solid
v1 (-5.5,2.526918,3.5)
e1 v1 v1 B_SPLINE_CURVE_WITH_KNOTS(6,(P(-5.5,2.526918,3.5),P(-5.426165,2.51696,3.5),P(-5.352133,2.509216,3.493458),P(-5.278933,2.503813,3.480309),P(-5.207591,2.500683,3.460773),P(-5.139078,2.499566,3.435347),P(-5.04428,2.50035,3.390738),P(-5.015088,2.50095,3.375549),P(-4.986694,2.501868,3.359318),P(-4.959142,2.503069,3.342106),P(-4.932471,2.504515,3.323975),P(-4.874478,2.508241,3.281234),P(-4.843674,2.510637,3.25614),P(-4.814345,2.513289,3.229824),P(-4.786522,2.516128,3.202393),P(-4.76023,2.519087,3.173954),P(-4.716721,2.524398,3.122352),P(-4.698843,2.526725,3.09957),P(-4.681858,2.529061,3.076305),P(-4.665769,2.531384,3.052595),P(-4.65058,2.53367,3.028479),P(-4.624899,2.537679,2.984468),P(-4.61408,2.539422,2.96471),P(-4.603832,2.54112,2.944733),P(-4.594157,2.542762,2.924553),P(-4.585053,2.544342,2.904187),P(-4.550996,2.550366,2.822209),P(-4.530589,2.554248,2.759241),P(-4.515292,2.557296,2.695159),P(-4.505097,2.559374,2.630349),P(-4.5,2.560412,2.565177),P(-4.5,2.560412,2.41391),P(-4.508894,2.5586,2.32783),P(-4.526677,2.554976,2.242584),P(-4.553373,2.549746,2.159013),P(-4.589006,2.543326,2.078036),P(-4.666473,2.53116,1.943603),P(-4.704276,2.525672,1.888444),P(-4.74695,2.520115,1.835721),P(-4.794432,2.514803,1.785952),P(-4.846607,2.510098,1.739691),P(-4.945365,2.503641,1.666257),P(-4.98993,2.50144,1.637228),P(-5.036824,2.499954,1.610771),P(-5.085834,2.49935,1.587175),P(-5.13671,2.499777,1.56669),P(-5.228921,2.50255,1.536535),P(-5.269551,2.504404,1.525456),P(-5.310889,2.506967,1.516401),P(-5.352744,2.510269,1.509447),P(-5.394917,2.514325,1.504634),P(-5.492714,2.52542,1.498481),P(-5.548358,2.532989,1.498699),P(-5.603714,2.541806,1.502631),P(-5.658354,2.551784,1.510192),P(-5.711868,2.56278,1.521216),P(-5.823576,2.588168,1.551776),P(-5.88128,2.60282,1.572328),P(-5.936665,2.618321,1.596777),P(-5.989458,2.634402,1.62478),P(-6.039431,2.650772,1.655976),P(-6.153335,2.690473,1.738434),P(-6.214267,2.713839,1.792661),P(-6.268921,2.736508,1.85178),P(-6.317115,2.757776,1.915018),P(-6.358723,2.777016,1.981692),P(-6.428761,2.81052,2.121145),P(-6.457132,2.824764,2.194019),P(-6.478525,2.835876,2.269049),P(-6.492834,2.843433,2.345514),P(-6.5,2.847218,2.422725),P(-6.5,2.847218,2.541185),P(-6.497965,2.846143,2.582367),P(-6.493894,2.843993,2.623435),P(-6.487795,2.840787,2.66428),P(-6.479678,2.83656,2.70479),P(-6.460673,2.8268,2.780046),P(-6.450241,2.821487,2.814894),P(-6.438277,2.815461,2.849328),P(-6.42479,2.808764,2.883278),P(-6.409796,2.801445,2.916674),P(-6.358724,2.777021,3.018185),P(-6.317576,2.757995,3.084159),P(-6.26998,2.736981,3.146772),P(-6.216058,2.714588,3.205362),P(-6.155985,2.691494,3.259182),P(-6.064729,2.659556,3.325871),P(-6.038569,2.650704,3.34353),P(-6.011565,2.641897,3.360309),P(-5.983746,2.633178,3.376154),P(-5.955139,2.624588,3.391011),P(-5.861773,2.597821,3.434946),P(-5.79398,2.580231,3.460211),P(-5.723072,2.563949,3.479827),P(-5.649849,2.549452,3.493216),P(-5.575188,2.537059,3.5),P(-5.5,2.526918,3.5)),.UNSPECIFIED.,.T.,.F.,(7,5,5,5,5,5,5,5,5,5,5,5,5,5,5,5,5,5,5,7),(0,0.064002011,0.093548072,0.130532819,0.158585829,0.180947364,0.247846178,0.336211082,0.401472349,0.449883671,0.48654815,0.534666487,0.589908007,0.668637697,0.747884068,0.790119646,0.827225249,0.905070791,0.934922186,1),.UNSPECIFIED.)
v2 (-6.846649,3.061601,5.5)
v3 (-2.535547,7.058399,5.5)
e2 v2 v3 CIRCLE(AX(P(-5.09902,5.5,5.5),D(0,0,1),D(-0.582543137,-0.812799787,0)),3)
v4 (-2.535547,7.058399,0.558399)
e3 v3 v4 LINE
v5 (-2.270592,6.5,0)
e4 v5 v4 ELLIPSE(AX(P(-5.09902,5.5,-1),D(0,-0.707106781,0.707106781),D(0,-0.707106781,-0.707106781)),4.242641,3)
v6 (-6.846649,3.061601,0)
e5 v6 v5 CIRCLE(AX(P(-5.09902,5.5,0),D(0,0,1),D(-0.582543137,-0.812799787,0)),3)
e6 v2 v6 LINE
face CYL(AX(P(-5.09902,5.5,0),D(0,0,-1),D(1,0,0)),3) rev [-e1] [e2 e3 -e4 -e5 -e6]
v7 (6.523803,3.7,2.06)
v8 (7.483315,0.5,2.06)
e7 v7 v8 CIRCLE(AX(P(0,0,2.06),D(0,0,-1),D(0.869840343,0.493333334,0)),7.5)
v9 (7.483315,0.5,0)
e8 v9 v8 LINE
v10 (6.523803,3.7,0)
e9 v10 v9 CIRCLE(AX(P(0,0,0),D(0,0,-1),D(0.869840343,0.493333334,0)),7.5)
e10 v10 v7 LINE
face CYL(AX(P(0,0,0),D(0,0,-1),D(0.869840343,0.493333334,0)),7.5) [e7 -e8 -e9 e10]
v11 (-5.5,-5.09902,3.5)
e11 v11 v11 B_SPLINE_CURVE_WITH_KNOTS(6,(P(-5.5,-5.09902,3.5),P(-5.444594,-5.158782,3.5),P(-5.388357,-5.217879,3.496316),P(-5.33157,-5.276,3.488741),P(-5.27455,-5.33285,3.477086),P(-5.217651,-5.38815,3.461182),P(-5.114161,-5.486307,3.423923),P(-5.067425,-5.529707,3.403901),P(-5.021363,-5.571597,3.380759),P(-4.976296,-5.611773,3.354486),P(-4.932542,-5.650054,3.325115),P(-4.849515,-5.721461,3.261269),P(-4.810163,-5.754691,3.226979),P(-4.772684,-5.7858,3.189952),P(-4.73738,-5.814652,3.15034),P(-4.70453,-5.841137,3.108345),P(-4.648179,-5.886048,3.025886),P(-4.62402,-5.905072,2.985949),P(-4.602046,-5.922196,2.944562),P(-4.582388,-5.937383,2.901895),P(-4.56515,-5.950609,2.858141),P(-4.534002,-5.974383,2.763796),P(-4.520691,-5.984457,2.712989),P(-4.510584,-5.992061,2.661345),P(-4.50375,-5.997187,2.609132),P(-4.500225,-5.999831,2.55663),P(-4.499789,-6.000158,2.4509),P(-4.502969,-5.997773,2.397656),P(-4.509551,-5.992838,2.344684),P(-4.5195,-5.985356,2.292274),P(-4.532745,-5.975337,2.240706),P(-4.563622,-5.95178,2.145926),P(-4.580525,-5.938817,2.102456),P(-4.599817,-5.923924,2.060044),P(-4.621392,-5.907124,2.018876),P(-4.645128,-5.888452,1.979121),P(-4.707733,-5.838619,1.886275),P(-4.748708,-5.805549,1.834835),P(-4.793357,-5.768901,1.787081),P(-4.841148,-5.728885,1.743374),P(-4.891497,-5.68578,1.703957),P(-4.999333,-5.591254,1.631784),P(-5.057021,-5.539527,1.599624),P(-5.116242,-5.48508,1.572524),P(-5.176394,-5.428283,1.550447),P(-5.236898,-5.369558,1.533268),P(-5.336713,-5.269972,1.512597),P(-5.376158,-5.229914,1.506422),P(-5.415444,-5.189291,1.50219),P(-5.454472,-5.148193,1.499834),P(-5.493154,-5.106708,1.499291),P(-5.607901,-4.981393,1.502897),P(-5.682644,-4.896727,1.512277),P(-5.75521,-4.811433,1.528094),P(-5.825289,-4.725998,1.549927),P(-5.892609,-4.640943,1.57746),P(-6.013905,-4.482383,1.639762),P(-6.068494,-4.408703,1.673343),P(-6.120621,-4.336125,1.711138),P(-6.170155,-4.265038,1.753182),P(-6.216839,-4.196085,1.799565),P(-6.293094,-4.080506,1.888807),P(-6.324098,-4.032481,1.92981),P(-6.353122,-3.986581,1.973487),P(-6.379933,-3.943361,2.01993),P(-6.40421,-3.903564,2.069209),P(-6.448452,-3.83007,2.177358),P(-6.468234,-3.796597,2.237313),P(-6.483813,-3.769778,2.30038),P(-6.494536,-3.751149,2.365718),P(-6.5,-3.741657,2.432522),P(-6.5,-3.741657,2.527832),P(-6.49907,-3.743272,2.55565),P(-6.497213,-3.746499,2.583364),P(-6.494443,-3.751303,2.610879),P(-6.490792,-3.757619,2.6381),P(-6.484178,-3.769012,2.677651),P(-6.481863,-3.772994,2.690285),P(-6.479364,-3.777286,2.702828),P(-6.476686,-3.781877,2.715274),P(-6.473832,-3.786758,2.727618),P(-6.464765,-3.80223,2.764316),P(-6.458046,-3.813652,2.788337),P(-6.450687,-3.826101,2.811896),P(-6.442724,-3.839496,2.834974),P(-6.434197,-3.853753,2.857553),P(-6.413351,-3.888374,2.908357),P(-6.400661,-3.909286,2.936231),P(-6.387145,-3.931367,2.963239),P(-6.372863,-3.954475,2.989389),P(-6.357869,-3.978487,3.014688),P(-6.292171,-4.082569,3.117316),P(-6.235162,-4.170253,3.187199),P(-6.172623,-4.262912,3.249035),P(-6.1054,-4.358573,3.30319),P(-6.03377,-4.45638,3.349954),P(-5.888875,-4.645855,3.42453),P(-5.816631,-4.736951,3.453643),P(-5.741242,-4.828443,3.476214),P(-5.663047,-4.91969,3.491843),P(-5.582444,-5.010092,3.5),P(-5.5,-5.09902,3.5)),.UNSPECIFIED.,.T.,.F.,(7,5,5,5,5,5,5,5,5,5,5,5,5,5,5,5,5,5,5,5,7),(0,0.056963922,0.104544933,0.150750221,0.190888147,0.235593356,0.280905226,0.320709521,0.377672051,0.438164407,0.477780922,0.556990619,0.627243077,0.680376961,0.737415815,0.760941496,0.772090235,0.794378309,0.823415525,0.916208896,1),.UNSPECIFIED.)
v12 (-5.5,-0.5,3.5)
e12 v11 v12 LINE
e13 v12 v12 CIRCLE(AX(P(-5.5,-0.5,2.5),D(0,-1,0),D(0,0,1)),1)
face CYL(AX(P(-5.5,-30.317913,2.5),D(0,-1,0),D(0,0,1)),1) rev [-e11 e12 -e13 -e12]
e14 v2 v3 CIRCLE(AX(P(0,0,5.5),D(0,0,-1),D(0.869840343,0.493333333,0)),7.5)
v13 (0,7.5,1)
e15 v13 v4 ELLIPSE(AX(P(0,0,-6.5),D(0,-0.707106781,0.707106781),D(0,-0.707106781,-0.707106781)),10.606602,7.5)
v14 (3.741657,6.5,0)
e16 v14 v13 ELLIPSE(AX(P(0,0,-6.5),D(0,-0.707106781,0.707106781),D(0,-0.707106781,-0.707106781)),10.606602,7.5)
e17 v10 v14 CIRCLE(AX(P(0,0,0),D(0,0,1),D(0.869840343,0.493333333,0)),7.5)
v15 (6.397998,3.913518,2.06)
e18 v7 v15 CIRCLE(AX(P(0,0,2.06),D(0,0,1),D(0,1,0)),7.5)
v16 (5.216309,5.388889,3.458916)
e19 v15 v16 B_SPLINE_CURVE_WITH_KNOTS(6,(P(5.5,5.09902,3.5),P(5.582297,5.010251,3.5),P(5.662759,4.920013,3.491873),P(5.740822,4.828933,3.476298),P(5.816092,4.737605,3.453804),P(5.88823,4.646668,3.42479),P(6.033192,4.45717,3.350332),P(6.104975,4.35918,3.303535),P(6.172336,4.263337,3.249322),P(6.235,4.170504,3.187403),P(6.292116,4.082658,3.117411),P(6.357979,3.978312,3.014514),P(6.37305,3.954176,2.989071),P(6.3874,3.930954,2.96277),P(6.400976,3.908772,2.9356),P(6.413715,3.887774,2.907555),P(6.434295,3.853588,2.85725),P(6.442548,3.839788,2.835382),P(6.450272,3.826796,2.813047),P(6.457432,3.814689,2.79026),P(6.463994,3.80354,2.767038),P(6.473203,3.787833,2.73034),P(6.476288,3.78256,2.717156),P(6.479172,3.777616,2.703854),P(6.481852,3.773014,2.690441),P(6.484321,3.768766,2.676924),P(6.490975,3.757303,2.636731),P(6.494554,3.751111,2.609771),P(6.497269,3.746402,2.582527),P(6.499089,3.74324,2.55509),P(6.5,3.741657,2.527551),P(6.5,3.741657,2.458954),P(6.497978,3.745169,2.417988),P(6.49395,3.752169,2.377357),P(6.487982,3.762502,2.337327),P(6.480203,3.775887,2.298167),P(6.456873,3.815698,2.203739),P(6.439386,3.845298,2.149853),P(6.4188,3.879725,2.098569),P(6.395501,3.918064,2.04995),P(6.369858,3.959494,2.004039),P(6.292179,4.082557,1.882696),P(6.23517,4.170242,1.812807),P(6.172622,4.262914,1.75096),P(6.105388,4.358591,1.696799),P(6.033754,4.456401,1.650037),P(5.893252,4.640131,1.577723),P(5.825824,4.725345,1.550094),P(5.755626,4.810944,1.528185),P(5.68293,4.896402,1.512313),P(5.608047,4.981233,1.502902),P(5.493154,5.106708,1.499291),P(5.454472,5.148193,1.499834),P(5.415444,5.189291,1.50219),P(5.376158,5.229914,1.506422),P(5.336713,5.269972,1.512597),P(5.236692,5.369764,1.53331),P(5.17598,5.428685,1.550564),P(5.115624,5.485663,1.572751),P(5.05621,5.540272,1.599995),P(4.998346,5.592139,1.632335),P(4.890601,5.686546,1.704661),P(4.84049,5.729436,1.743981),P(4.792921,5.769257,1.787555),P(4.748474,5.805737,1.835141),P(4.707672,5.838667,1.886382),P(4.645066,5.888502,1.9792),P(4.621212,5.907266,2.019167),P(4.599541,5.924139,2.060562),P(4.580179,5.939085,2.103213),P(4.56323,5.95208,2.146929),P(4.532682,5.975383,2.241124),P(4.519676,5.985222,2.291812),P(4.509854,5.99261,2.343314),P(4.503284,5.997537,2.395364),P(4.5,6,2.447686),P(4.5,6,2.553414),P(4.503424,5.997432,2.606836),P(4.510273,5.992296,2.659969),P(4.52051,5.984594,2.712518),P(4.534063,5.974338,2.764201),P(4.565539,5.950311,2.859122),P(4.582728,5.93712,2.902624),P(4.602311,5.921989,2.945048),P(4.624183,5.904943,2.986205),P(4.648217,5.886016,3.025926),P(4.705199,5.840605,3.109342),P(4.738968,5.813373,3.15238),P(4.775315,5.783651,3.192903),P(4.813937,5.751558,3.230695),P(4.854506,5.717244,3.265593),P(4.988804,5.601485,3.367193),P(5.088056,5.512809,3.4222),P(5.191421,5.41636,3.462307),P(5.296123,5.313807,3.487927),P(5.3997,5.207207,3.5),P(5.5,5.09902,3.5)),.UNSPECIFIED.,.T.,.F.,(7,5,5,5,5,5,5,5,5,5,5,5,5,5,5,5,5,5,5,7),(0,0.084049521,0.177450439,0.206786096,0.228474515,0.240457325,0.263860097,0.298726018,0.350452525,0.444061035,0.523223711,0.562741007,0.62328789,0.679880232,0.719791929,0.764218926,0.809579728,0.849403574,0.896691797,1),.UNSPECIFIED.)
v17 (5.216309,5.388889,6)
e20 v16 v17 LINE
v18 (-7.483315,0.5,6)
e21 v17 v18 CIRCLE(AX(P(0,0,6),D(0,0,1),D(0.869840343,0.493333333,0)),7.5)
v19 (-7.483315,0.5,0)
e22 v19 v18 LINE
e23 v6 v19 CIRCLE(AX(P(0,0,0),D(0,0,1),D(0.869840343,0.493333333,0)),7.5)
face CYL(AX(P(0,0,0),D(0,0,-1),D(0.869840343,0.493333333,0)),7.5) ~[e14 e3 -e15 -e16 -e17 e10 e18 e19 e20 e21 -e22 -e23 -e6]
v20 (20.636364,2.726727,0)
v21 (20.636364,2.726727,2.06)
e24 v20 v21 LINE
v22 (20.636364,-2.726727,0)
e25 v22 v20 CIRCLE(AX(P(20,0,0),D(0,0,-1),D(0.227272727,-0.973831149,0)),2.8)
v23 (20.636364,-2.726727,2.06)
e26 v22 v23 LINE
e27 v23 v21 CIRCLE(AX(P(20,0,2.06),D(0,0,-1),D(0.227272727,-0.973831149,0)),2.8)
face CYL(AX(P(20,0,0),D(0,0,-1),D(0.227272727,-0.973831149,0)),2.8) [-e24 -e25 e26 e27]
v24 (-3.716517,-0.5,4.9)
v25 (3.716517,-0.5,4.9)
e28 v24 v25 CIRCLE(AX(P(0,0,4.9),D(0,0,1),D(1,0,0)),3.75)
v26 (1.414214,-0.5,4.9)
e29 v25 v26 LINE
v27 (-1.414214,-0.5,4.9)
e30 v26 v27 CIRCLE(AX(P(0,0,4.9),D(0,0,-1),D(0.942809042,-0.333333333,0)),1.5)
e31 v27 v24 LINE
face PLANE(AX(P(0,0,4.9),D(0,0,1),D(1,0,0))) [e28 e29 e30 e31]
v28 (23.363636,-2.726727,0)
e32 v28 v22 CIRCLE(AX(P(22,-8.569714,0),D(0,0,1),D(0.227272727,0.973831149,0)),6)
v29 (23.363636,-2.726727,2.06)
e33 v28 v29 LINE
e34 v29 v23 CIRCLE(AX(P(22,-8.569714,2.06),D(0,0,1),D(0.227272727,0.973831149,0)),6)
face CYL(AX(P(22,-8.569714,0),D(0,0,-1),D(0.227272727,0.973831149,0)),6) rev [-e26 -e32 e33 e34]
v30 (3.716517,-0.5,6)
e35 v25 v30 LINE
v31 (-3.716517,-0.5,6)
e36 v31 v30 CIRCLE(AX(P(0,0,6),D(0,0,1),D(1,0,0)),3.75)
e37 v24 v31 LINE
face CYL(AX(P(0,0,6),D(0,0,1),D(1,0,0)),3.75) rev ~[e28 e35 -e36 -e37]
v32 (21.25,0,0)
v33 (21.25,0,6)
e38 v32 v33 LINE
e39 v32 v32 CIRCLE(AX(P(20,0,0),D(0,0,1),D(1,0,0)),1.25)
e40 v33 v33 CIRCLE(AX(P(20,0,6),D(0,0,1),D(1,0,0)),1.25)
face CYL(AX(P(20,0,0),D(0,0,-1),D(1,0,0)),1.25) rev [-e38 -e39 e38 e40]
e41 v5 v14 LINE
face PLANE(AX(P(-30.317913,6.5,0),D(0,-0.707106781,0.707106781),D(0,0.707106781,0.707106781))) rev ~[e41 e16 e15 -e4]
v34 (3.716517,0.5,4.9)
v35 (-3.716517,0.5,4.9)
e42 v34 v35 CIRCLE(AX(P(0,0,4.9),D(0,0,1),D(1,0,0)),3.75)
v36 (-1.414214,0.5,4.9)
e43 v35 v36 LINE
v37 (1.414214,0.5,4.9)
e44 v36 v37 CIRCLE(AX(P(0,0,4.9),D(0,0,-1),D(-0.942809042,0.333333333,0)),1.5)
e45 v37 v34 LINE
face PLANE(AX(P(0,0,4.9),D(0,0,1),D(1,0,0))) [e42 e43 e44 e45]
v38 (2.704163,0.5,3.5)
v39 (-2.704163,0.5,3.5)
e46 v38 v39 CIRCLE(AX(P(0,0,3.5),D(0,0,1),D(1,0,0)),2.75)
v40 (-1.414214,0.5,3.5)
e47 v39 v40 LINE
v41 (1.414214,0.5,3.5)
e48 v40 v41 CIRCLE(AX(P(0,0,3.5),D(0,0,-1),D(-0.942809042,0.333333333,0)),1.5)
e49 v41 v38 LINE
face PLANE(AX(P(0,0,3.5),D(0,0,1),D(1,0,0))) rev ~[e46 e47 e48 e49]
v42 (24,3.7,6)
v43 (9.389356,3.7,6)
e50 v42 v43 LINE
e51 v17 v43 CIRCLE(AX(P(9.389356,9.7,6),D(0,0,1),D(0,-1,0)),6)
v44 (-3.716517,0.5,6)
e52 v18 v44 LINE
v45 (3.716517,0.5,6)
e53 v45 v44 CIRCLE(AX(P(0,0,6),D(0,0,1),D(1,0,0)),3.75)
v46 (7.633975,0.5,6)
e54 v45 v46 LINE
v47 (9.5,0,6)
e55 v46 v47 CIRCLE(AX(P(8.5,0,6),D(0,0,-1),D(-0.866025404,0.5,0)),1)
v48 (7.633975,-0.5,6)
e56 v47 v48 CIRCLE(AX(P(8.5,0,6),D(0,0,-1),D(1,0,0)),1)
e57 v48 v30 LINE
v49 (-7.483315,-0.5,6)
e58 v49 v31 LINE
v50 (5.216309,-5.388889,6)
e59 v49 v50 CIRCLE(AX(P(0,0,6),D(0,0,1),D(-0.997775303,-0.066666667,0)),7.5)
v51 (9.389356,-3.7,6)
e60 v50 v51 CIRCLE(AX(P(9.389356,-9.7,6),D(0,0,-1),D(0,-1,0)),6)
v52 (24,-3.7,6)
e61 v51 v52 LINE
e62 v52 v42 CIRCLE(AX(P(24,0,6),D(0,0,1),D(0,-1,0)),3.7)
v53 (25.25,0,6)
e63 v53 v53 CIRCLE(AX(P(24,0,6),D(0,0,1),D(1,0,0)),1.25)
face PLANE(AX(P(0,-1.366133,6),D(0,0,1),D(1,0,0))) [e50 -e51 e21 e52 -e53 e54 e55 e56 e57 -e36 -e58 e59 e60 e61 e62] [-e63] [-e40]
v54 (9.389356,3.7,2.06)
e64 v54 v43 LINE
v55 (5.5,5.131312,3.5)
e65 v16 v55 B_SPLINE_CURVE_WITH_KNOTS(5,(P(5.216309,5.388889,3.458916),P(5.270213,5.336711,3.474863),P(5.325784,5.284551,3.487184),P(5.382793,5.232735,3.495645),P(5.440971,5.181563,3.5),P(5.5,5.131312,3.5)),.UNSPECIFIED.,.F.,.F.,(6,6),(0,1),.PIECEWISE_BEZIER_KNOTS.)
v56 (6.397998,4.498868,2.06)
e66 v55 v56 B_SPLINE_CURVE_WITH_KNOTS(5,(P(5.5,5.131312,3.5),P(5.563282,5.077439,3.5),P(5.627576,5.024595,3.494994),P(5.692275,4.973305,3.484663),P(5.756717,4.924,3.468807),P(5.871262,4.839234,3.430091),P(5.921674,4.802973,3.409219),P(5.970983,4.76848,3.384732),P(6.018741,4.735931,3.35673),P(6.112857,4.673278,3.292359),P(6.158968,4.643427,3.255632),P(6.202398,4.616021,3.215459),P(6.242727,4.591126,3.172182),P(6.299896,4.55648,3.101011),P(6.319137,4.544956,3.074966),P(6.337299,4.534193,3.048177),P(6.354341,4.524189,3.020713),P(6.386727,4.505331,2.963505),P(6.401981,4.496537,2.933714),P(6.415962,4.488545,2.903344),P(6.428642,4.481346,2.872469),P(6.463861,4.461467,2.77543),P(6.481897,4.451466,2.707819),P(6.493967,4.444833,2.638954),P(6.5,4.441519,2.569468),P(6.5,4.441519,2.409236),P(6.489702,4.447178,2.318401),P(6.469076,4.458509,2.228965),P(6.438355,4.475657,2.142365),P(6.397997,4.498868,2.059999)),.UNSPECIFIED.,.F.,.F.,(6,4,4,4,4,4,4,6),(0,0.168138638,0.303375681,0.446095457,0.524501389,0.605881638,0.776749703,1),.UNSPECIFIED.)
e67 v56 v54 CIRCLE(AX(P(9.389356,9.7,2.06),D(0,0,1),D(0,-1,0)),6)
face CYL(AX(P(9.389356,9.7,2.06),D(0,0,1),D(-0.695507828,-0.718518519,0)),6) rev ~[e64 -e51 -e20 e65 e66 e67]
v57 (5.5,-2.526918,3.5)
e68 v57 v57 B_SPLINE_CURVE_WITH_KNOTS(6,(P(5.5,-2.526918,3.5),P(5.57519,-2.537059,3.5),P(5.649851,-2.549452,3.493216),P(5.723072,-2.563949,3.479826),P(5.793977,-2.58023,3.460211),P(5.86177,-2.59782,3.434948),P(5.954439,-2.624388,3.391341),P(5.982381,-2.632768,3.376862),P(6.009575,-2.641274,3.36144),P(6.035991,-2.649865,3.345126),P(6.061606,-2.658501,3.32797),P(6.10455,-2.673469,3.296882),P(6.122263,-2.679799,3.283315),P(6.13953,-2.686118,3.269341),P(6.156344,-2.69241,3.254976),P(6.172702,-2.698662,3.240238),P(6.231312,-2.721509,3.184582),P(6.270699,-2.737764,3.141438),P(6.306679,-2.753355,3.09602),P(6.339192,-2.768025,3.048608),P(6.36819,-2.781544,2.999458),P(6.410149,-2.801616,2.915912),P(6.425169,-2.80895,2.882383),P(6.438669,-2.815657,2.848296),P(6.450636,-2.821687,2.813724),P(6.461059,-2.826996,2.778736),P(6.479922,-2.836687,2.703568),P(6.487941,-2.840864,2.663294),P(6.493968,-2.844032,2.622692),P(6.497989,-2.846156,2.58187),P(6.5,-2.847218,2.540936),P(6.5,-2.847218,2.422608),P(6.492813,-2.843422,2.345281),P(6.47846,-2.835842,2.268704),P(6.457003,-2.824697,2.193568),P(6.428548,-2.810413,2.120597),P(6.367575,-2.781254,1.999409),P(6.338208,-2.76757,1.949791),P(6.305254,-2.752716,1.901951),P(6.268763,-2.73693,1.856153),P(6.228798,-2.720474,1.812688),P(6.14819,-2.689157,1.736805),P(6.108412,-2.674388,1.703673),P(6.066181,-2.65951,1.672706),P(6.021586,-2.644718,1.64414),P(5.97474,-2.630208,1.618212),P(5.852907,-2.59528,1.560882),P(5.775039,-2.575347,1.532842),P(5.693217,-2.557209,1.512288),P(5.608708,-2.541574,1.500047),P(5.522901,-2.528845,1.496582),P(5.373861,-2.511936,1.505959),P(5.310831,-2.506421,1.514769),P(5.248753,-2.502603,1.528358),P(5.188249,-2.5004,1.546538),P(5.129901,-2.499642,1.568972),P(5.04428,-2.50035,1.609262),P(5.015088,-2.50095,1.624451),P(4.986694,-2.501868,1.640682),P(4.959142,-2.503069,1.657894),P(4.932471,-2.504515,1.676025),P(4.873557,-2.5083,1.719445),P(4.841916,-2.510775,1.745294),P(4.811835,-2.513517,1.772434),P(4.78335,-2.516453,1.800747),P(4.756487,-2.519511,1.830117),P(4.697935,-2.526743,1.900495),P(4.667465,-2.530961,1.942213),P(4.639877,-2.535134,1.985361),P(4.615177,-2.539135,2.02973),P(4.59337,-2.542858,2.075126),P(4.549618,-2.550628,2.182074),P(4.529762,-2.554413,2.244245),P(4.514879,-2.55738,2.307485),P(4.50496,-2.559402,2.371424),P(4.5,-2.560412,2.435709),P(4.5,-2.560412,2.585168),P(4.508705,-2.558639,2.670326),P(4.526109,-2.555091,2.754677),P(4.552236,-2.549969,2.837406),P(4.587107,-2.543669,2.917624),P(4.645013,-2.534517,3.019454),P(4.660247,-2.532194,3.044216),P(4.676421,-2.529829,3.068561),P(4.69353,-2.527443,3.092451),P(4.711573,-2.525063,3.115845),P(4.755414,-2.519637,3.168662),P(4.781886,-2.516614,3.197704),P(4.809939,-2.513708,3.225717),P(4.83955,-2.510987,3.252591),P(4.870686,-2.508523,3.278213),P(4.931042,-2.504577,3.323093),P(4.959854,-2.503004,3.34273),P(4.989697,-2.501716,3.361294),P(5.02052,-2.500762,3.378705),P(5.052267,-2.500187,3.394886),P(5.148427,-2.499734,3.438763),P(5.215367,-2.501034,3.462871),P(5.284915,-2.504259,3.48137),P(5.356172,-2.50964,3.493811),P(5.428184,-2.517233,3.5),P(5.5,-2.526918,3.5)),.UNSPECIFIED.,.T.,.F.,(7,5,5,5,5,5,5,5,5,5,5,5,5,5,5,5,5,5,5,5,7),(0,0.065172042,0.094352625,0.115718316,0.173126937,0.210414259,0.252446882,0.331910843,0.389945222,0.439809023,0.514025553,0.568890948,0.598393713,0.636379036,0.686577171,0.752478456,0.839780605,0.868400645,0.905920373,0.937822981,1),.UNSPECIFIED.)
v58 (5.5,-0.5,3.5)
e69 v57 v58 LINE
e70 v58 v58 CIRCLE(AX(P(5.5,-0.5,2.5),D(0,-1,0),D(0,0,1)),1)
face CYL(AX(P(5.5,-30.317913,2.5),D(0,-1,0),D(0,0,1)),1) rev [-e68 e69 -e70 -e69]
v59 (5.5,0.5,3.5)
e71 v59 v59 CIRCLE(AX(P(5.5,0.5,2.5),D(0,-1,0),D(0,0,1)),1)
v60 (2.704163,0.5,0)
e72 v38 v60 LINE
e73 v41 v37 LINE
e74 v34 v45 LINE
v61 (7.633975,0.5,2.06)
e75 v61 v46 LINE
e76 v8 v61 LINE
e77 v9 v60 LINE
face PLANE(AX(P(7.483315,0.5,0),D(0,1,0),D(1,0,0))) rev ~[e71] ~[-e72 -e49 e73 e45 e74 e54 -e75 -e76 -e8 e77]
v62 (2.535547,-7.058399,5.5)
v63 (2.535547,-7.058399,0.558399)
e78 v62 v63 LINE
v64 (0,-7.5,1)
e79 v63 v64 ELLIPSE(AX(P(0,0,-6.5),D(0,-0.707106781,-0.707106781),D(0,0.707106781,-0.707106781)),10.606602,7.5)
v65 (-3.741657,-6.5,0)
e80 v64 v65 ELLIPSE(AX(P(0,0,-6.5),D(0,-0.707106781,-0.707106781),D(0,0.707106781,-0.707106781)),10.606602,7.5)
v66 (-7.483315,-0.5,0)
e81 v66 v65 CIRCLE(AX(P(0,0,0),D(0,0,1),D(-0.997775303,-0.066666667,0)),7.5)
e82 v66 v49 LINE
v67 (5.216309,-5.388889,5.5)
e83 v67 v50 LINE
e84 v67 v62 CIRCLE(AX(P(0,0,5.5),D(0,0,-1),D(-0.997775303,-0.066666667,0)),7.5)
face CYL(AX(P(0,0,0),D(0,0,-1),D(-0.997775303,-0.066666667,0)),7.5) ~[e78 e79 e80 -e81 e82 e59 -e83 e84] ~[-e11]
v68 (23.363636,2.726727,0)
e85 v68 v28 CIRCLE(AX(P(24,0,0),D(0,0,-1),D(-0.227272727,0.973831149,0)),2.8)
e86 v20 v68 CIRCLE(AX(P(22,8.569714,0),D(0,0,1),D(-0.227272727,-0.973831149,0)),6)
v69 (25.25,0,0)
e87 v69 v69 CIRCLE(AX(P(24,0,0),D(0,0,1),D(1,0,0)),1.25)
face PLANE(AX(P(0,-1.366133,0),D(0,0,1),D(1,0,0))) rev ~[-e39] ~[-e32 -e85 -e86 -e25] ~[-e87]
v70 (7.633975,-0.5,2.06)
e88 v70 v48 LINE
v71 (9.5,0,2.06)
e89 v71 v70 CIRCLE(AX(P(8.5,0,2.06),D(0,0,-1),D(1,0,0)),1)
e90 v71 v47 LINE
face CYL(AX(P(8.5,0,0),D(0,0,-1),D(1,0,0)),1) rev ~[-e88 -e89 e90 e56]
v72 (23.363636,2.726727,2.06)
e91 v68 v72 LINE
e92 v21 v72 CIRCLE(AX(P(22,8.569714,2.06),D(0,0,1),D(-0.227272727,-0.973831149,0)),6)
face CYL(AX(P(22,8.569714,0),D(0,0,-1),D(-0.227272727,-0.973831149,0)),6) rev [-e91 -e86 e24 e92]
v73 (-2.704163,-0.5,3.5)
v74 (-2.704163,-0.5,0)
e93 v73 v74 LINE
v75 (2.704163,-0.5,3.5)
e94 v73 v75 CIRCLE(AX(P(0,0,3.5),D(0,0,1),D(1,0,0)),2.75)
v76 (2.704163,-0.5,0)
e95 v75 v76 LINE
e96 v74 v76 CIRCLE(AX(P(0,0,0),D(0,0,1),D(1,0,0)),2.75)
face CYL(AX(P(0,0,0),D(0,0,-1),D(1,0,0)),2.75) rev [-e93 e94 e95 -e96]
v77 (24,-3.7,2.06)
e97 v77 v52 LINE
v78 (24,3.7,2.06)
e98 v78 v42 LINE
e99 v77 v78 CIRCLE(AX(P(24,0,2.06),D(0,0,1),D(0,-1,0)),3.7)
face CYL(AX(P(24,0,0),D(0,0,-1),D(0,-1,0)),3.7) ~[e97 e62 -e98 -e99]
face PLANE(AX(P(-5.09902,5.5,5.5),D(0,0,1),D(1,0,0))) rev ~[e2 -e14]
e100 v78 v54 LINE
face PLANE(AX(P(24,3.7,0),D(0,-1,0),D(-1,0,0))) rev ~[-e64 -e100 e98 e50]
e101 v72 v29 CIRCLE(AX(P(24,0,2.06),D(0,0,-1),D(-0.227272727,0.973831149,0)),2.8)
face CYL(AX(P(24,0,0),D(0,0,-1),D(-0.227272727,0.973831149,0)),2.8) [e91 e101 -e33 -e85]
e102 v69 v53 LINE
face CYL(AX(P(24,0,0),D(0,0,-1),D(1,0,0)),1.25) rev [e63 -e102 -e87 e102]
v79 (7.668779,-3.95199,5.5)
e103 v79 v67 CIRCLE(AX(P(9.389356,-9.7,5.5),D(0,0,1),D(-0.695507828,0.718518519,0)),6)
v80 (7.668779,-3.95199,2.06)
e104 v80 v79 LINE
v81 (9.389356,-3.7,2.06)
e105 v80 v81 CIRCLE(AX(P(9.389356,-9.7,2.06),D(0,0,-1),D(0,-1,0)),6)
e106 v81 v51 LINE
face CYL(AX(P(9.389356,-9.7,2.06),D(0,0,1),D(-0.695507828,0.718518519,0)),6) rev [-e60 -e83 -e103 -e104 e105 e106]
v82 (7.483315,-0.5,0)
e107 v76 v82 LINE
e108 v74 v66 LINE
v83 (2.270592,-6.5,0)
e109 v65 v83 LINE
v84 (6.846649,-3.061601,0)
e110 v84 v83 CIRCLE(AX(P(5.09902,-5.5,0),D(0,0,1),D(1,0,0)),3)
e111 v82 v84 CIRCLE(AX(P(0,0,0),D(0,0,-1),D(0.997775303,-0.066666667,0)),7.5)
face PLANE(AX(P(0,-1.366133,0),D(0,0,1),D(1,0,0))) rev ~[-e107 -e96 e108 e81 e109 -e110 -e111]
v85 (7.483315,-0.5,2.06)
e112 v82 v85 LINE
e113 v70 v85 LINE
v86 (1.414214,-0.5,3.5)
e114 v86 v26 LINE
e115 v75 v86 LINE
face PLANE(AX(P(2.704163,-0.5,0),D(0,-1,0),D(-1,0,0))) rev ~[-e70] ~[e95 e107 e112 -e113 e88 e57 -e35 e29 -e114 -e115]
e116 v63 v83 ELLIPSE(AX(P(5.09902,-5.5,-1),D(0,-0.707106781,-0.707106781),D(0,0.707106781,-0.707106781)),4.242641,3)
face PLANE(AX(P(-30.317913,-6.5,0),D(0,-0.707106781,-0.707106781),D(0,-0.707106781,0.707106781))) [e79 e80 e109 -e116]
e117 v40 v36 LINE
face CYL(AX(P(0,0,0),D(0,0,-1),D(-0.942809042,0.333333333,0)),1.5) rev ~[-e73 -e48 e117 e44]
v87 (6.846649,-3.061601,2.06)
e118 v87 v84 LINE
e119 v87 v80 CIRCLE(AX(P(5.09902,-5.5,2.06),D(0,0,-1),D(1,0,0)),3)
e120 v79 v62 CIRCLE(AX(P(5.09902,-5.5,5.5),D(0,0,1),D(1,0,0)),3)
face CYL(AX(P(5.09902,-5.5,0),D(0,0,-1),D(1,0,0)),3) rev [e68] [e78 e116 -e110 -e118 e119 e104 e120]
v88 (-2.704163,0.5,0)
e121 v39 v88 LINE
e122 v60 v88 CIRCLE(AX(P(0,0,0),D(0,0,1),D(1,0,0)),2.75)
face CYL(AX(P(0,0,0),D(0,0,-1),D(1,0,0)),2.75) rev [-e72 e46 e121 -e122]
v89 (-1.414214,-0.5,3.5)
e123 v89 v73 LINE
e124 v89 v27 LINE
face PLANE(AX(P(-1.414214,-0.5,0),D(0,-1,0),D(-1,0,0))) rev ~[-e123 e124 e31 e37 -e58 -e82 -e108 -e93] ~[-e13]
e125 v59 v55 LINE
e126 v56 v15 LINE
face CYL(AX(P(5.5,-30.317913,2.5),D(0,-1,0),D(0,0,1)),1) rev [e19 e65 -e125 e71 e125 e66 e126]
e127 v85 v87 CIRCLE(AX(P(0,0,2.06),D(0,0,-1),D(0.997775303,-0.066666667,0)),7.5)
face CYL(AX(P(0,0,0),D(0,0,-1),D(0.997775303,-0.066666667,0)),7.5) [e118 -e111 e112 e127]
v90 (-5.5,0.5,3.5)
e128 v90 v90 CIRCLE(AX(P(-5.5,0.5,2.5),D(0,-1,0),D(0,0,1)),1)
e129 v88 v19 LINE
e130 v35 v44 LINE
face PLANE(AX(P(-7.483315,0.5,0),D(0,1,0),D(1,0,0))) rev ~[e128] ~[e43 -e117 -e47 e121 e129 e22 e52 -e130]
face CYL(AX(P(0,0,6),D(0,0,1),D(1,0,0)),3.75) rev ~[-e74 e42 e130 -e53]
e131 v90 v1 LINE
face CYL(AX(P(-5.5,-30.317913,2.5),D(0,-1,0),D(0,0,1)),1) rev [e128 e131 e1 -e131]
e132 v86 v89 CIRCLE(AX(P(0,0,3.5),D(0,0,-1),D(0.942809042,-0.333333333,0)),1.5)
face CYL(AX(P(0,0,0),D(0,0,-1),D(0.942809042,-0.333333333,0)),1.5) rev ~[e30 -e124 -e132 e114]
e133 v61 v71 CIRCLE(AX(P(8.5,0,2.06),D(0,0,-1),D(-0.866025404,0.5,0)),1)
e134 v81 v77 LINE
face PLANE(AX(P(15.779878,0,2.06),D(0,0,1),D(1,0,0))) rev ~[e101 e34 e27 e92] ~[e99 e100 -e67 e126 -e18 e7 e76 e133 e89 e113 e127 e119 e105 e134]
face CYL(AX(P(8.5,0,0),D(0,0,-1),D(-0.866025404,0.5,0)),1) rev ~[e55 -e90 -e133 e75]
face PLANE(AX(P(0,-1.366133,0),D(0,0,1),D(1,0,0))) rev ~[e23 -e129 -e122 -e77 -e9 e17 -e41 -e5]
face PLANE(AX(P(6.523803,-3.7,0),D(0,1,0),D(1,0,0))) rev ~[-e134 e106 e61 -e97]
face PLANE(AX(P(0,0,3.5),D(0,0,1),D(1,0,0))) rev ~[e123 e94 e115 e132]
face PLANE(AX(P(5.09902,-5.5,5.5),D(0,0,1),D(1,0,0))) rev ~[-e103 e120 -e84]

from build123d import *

# Parameters (mm, degrees)
SKETCH_1_R               = 1.25
EXTRUDE_1_DEPTH          = 6
CUT_EXTRUDE_1_DEPTH      = 2.06
SKETCH_1_4_R             = 2.75
CUT_EXTRUDE_2_DEPTH      = 3.5
CUT_EXTRUDE_START        = 6
SKETCH_1_5_R             = 3.75
CUT_EXTRUDE_3_DEPTH      = 1.1
FILLET_1_R               = 6
SKETCH_2_R               = 3
CUT_EXTRUDE_4_DEPTH      = 5.5
CUT_EXTRUDE_5_DEPTH      = 30.317912613
CUT_EXTRUDE_5_DEPTH_BACK = 30.317912613
SKETCH_3_R               = 1
CUT_EXTRUDE_6_DEPTH      = 30.317912659
CUT_EXTRUDE_6_DEPTH_BACK = 30.317912659


with BuildPart() as part:
    # Эскиз1 → Бобышка-Вытянуть1 (new body)
    # profile 1 of 8: a face of its own
    with BuildSketch(Plane.XY):
        with BuildLine():
            ThreePointArc((24, -3.7), (27.7, 0), (24, 3.7))
            Line((24, 3.7), (6.523802572, 3.7))
            ThreePointArc((6.523802572, 3.7), (7.183998475, 2.154104435), (7.483314774, 0.5))
            Line((7.483314774, 0.5), (7.633974596, 0.5))
            ThreePointArc((7.633974596, 0.5), (8.758819045, 0.965925826), (9.5, 0))
            ThreePointArc((9.5, 0), (8.758819045, -0.965925826), (7.633974596, -0.5))
            Line((7.633974596, -0.5), (7.483314774, -0.5))
            ThreePointArc((7.483314774, -0.5), (7.183998475, -2.154104435), (6.523802572, -3.7))
            Line((6.523802572, -3.7), (24, -3.7))
        make_face()
        with BuildLine():
            ThreePointArc((23.363636364, 2.726727218), (26.8, 0), (23.363636364, -2.726727218))
            ThreePointArc((23.363636364, -2.726727218), (22, -2.569714114), (20.636363636, -2.726727218))
            ThreePointArc((20.636363636, -2.726727218), (17.2, 0), (20.636363636, 2.726727218))
            ThreePointArc((20.636363636, 2.726727218), (22, 2.569714114), (23.363636364, 2.726727218))
        make_face(mode=Mode.SUBTRACT)
    # profile 2 of 8: a face of its own
    with BuildSketch(Plane.XY):
        with BuildLine():
            ThreePointArc((20.636363636, 2.726727218), (22, 2.569714114), (23.363636364, 2.726727218))
            ThreePointArc((23.363636364, 2.726727218), (26.8, 0), (23.363636364, -2.726727218))
            ThreePointArc((23.363636364, -2.726727218), (22, -2.569714114), (20.636363636, -2.726727218))
            ThreePointArc((20.636363636, -2.726727218), (17.2, 0), (20.636363636, 2.726727218))
        make_face()
        with Locations((20, 0)):
            Circle(SKETCH_1_R, mode=Mode.SUBTRACT)
        with Locations((24, 0)):
            Circle(SKETCH_1_R, mode=Mode.SUBTRACT)
    # profile 3 of 8: a face of its own
    with BuildSketch(Plane.XY):
        with BuildLine():
            ThreePointArc((7.483314774, 0.5), (7.183998475, 2.154104435), (6.523802572, 3.7))
            ThreePointArc((6.523802572, 3.7), (-1.670378974, 7.311623218), (-7.483314774, 0.5))
            Line((-7.483314774, 0.5), (-3.716517187, 0.5))
            ThreePointArc((-3.716517187, 0.5), (0, 3.75), (3.716517187, 0.5))
            Line((3.716517187, 0.5), (7.483314774, 0.5))
        make_face()
    # profile 4 of 8: a face of its own
    with BuildSketch(Plane.XY):
        with BuildLine():
            ThreePointArc((3.716517187, 0.5), (0, 3.75), (-3.716517187, 0.5))
            Line((-3.716517187, 0.5), (-2.704163457, 0.5))
            ThreePointArc((-2.704163457, 0.5), (0, 2.75), (2.704163457, 0.5))
            Line((2.704163457, 0.5), (3.716517187, 0.5))
        make_face()
    # profile 5 of 8: a face of its own
    with BuildSketch(Plane.XY):
        with BuildLine():
            ThreePointArc((2.704163457, 0.5), (0, 2.75), (-2.704163457, 0.5))
            Line((-2.704163457, 0.5), (-1.414213562, 0.5))
            ThreePointArc((-1.414213562, 0.5), (0, 1.5), (1.414213562, 0.5))
            Line((1.414213562, 0.5), (2.704163457, 0.5))
        make_face()
    # profile 6 of 8: a face of its own
    with BuildSketch(Plane.XY):
        with BuildLine():
            ThreePointArc((-7.483314774, -0.5), (-1.670378974, -7.311623218), (6.523802572, -3.7))
            ThreePointArc((6.523802572, -3.7), (7.183998475, -2.154104435), (7.483314774, -0.5))
            Line((7.483314774, -0.5), (3.716517187, -0.5))
            ThreePointArc((3.716517187, -0.5), (0, -3.75), (-3.716517187, -0.5))
            Line((-3.716517187, -0.5), (-7.483314774, -0.5))
        make_face()
    # profile 7 of 8: a face of its own
    with BuildSketch(Plane.XY):
        with BuildLine():
            Line((-2.704163457, -0.5), (-3.716517187, -0.5))
            ThreePointArc((-3.716517187, -0.5), (0, -3.75), (3.716517187, -0.5))
            Line((3.716517187, -0.5), (2.704163457, -0.5))
            ThreePointArc((2.704163457, -0.5), (0, -2.75), (-2.704163457, -0.5))
        make_face()
    # profile 8 of 8: a face of its own
    with BuildSketch(Plane.XY):
        with BuildLine():
            Line((-1.414213562, -0.5), (-2.704163457, -0.5))
            ThreePointArc((-2.704163457, -0.5), (0, -2.75), (2.704163457, -0.5))
            Line((2.704163457, -0.5), (1.414213562, -0.5))
            ThreePointArc((1.414213562, -0.5), (0, -1.5), (-1.414213562, -0.5))
        make_face()
    extrude(amount=EXTRUDE_1_DEPTH)

    # Эскиз1<3> → Вырез-Вытянуть1 (cut)
    with BuildSketch(Plane.XY):
        with BuildLine():
            ThreePointArc((24, -3.7), (27.7, 0), (24, 3.7))
            Line((24, 3.7), (6.523802572, 3.7))
            ThreePointArc((6.523802572, 3.7), (7.183998475, 2.154104435), (7.483314774, 0.5))
            Line((7.483314774, 0.5), (7.633974596, 0.5))
            ThreePointArc((7.633974596, 0.5), (8.758819045, 0.965925826), (9.5, 0))
            ThreePointArc((9.5, 0), (8.758819045, -0.965925826), (7.633974596, -0.5))
            Line((7.633974596, -0.5), (7.483314774, -0.5))
            ThreePointArc((7.483314774, -0.5), (7.183998475, -2.154104435), (6.523802572, -3.7))
            Line((6.523802572, -3.7), (24, -3.7))
        make_face()
        with BuildLine():
            ThreePointArc((23.363636364, 2.726727218), (26.8, 0), (23.363636364, -2.726727218))
            ThreePointArc((23.363636364, -2.726727218), (22, -2.569714114), (20.636363636, -2.726727218))
            ThreePointArc((20.636363636, -2.726727218), (17.2, 0), (20.636363636, 2.726727218))
            ThreePointArc((20.636363636, 2.726727218), (22, 2.569714114), (23.363636364, 2.726727218))
        make_face(mode=Mode.SUBTRACT)
    extrude(amount=CUT_EXTRUDE_1_DEPTH, mode=Mode.SUBTRACT)

    # Эскиз1<4> → Вырез-Вытянуть2 (cut)
    with BuildSketch(Plane.XY):
        Circle(SKETCH_1_4_R)
    extrude(amount=CUT_EXTRUDE_2_DEPTH, mode=Mode.SUBTRACT)

    # Эскиз1<5> → Вырез-Вытянуть3 (cut)
    with BuildSketch(Plane.XY.offset(CUT_EXTRUDE_START)):
        Circle(SKETCH_1_5_R)
    extrude(amount=-CUT_EXTRUDE_3_DEPTH, mode=Mode.SUBTRACT)

    # Скругление1
    fillet_1_edges = [part.edges().sort_by_distance(p)[0] for p in [
        (6.523802572, 3.7, 4.03),
        (6.523802572, -3.7, 4.03),
    ]]
    fillet(fillet_1_edges, radius=FILLET_1_R)

    # Эскиз2 → Вырез-Вытянуть4 (cut)
    with BuildSketch(Plane.XY):
        with Locations((5.099019514, -5.5)):
            Circle(SKETCH_2_R)
        with Locations((-5.099019514, 5.5)):
            Circle(SKETCH_2_R)
    extrude(amount=CUT_EXTRUDE_4_DEPTH, mode=Mode.SUBTRACT)

    # Эскиз3 → Вырез-Вытянуть5 (cut, two sides: drawn at the far end of the back side and taken through both)
    with BuildSketch(Plane(origin=(0, 0, 0), x_dir=(1, 0, 0), z_dir=(0, 1, 0)).offset(-CUT_EXTRUDE_5_DEPTH_BACK)):
        with Locations(Location((5.5, -2.5, 0), (0, 0, 270))):
            Circle(SKETCH_3_R)
        with Locations(Location((-5.5, -2.5, 0), (0, 0, 270))):
            Circle(SKETCH_3_R)
    extrude(amount=CUT_EXTRUDE_5_DEPTH + CUT_EXTRUDE_5_DEPTH_BACK, mode=Mode.SUBTRACT)

    # Эскиз4 → Вырез-Вытянуть6 (cut, two sides: drawn at the far end of the back side and taken through both)
    with BuildSketch(Plane(origin=(0, 0, 0), x_dir=(0, 0, -1), z_dir=(1, 0, 0)).offset(-CUT_EXTRUDE_6_DEPTH_BACK)):
        Polygon((0, -6.5), (-1, -7.5), (0, -7.5), align=None)
        Polygon((0, 7.5), (0, 6.5), (-1, 7.5), align=None)
    extrude(amount=CUT_EXTRUDE_6_DEPTH + CUT_EXTRUDE_6_DEPTH_BACK, mode=Mode.SUBTRACT)


solid = part.part
